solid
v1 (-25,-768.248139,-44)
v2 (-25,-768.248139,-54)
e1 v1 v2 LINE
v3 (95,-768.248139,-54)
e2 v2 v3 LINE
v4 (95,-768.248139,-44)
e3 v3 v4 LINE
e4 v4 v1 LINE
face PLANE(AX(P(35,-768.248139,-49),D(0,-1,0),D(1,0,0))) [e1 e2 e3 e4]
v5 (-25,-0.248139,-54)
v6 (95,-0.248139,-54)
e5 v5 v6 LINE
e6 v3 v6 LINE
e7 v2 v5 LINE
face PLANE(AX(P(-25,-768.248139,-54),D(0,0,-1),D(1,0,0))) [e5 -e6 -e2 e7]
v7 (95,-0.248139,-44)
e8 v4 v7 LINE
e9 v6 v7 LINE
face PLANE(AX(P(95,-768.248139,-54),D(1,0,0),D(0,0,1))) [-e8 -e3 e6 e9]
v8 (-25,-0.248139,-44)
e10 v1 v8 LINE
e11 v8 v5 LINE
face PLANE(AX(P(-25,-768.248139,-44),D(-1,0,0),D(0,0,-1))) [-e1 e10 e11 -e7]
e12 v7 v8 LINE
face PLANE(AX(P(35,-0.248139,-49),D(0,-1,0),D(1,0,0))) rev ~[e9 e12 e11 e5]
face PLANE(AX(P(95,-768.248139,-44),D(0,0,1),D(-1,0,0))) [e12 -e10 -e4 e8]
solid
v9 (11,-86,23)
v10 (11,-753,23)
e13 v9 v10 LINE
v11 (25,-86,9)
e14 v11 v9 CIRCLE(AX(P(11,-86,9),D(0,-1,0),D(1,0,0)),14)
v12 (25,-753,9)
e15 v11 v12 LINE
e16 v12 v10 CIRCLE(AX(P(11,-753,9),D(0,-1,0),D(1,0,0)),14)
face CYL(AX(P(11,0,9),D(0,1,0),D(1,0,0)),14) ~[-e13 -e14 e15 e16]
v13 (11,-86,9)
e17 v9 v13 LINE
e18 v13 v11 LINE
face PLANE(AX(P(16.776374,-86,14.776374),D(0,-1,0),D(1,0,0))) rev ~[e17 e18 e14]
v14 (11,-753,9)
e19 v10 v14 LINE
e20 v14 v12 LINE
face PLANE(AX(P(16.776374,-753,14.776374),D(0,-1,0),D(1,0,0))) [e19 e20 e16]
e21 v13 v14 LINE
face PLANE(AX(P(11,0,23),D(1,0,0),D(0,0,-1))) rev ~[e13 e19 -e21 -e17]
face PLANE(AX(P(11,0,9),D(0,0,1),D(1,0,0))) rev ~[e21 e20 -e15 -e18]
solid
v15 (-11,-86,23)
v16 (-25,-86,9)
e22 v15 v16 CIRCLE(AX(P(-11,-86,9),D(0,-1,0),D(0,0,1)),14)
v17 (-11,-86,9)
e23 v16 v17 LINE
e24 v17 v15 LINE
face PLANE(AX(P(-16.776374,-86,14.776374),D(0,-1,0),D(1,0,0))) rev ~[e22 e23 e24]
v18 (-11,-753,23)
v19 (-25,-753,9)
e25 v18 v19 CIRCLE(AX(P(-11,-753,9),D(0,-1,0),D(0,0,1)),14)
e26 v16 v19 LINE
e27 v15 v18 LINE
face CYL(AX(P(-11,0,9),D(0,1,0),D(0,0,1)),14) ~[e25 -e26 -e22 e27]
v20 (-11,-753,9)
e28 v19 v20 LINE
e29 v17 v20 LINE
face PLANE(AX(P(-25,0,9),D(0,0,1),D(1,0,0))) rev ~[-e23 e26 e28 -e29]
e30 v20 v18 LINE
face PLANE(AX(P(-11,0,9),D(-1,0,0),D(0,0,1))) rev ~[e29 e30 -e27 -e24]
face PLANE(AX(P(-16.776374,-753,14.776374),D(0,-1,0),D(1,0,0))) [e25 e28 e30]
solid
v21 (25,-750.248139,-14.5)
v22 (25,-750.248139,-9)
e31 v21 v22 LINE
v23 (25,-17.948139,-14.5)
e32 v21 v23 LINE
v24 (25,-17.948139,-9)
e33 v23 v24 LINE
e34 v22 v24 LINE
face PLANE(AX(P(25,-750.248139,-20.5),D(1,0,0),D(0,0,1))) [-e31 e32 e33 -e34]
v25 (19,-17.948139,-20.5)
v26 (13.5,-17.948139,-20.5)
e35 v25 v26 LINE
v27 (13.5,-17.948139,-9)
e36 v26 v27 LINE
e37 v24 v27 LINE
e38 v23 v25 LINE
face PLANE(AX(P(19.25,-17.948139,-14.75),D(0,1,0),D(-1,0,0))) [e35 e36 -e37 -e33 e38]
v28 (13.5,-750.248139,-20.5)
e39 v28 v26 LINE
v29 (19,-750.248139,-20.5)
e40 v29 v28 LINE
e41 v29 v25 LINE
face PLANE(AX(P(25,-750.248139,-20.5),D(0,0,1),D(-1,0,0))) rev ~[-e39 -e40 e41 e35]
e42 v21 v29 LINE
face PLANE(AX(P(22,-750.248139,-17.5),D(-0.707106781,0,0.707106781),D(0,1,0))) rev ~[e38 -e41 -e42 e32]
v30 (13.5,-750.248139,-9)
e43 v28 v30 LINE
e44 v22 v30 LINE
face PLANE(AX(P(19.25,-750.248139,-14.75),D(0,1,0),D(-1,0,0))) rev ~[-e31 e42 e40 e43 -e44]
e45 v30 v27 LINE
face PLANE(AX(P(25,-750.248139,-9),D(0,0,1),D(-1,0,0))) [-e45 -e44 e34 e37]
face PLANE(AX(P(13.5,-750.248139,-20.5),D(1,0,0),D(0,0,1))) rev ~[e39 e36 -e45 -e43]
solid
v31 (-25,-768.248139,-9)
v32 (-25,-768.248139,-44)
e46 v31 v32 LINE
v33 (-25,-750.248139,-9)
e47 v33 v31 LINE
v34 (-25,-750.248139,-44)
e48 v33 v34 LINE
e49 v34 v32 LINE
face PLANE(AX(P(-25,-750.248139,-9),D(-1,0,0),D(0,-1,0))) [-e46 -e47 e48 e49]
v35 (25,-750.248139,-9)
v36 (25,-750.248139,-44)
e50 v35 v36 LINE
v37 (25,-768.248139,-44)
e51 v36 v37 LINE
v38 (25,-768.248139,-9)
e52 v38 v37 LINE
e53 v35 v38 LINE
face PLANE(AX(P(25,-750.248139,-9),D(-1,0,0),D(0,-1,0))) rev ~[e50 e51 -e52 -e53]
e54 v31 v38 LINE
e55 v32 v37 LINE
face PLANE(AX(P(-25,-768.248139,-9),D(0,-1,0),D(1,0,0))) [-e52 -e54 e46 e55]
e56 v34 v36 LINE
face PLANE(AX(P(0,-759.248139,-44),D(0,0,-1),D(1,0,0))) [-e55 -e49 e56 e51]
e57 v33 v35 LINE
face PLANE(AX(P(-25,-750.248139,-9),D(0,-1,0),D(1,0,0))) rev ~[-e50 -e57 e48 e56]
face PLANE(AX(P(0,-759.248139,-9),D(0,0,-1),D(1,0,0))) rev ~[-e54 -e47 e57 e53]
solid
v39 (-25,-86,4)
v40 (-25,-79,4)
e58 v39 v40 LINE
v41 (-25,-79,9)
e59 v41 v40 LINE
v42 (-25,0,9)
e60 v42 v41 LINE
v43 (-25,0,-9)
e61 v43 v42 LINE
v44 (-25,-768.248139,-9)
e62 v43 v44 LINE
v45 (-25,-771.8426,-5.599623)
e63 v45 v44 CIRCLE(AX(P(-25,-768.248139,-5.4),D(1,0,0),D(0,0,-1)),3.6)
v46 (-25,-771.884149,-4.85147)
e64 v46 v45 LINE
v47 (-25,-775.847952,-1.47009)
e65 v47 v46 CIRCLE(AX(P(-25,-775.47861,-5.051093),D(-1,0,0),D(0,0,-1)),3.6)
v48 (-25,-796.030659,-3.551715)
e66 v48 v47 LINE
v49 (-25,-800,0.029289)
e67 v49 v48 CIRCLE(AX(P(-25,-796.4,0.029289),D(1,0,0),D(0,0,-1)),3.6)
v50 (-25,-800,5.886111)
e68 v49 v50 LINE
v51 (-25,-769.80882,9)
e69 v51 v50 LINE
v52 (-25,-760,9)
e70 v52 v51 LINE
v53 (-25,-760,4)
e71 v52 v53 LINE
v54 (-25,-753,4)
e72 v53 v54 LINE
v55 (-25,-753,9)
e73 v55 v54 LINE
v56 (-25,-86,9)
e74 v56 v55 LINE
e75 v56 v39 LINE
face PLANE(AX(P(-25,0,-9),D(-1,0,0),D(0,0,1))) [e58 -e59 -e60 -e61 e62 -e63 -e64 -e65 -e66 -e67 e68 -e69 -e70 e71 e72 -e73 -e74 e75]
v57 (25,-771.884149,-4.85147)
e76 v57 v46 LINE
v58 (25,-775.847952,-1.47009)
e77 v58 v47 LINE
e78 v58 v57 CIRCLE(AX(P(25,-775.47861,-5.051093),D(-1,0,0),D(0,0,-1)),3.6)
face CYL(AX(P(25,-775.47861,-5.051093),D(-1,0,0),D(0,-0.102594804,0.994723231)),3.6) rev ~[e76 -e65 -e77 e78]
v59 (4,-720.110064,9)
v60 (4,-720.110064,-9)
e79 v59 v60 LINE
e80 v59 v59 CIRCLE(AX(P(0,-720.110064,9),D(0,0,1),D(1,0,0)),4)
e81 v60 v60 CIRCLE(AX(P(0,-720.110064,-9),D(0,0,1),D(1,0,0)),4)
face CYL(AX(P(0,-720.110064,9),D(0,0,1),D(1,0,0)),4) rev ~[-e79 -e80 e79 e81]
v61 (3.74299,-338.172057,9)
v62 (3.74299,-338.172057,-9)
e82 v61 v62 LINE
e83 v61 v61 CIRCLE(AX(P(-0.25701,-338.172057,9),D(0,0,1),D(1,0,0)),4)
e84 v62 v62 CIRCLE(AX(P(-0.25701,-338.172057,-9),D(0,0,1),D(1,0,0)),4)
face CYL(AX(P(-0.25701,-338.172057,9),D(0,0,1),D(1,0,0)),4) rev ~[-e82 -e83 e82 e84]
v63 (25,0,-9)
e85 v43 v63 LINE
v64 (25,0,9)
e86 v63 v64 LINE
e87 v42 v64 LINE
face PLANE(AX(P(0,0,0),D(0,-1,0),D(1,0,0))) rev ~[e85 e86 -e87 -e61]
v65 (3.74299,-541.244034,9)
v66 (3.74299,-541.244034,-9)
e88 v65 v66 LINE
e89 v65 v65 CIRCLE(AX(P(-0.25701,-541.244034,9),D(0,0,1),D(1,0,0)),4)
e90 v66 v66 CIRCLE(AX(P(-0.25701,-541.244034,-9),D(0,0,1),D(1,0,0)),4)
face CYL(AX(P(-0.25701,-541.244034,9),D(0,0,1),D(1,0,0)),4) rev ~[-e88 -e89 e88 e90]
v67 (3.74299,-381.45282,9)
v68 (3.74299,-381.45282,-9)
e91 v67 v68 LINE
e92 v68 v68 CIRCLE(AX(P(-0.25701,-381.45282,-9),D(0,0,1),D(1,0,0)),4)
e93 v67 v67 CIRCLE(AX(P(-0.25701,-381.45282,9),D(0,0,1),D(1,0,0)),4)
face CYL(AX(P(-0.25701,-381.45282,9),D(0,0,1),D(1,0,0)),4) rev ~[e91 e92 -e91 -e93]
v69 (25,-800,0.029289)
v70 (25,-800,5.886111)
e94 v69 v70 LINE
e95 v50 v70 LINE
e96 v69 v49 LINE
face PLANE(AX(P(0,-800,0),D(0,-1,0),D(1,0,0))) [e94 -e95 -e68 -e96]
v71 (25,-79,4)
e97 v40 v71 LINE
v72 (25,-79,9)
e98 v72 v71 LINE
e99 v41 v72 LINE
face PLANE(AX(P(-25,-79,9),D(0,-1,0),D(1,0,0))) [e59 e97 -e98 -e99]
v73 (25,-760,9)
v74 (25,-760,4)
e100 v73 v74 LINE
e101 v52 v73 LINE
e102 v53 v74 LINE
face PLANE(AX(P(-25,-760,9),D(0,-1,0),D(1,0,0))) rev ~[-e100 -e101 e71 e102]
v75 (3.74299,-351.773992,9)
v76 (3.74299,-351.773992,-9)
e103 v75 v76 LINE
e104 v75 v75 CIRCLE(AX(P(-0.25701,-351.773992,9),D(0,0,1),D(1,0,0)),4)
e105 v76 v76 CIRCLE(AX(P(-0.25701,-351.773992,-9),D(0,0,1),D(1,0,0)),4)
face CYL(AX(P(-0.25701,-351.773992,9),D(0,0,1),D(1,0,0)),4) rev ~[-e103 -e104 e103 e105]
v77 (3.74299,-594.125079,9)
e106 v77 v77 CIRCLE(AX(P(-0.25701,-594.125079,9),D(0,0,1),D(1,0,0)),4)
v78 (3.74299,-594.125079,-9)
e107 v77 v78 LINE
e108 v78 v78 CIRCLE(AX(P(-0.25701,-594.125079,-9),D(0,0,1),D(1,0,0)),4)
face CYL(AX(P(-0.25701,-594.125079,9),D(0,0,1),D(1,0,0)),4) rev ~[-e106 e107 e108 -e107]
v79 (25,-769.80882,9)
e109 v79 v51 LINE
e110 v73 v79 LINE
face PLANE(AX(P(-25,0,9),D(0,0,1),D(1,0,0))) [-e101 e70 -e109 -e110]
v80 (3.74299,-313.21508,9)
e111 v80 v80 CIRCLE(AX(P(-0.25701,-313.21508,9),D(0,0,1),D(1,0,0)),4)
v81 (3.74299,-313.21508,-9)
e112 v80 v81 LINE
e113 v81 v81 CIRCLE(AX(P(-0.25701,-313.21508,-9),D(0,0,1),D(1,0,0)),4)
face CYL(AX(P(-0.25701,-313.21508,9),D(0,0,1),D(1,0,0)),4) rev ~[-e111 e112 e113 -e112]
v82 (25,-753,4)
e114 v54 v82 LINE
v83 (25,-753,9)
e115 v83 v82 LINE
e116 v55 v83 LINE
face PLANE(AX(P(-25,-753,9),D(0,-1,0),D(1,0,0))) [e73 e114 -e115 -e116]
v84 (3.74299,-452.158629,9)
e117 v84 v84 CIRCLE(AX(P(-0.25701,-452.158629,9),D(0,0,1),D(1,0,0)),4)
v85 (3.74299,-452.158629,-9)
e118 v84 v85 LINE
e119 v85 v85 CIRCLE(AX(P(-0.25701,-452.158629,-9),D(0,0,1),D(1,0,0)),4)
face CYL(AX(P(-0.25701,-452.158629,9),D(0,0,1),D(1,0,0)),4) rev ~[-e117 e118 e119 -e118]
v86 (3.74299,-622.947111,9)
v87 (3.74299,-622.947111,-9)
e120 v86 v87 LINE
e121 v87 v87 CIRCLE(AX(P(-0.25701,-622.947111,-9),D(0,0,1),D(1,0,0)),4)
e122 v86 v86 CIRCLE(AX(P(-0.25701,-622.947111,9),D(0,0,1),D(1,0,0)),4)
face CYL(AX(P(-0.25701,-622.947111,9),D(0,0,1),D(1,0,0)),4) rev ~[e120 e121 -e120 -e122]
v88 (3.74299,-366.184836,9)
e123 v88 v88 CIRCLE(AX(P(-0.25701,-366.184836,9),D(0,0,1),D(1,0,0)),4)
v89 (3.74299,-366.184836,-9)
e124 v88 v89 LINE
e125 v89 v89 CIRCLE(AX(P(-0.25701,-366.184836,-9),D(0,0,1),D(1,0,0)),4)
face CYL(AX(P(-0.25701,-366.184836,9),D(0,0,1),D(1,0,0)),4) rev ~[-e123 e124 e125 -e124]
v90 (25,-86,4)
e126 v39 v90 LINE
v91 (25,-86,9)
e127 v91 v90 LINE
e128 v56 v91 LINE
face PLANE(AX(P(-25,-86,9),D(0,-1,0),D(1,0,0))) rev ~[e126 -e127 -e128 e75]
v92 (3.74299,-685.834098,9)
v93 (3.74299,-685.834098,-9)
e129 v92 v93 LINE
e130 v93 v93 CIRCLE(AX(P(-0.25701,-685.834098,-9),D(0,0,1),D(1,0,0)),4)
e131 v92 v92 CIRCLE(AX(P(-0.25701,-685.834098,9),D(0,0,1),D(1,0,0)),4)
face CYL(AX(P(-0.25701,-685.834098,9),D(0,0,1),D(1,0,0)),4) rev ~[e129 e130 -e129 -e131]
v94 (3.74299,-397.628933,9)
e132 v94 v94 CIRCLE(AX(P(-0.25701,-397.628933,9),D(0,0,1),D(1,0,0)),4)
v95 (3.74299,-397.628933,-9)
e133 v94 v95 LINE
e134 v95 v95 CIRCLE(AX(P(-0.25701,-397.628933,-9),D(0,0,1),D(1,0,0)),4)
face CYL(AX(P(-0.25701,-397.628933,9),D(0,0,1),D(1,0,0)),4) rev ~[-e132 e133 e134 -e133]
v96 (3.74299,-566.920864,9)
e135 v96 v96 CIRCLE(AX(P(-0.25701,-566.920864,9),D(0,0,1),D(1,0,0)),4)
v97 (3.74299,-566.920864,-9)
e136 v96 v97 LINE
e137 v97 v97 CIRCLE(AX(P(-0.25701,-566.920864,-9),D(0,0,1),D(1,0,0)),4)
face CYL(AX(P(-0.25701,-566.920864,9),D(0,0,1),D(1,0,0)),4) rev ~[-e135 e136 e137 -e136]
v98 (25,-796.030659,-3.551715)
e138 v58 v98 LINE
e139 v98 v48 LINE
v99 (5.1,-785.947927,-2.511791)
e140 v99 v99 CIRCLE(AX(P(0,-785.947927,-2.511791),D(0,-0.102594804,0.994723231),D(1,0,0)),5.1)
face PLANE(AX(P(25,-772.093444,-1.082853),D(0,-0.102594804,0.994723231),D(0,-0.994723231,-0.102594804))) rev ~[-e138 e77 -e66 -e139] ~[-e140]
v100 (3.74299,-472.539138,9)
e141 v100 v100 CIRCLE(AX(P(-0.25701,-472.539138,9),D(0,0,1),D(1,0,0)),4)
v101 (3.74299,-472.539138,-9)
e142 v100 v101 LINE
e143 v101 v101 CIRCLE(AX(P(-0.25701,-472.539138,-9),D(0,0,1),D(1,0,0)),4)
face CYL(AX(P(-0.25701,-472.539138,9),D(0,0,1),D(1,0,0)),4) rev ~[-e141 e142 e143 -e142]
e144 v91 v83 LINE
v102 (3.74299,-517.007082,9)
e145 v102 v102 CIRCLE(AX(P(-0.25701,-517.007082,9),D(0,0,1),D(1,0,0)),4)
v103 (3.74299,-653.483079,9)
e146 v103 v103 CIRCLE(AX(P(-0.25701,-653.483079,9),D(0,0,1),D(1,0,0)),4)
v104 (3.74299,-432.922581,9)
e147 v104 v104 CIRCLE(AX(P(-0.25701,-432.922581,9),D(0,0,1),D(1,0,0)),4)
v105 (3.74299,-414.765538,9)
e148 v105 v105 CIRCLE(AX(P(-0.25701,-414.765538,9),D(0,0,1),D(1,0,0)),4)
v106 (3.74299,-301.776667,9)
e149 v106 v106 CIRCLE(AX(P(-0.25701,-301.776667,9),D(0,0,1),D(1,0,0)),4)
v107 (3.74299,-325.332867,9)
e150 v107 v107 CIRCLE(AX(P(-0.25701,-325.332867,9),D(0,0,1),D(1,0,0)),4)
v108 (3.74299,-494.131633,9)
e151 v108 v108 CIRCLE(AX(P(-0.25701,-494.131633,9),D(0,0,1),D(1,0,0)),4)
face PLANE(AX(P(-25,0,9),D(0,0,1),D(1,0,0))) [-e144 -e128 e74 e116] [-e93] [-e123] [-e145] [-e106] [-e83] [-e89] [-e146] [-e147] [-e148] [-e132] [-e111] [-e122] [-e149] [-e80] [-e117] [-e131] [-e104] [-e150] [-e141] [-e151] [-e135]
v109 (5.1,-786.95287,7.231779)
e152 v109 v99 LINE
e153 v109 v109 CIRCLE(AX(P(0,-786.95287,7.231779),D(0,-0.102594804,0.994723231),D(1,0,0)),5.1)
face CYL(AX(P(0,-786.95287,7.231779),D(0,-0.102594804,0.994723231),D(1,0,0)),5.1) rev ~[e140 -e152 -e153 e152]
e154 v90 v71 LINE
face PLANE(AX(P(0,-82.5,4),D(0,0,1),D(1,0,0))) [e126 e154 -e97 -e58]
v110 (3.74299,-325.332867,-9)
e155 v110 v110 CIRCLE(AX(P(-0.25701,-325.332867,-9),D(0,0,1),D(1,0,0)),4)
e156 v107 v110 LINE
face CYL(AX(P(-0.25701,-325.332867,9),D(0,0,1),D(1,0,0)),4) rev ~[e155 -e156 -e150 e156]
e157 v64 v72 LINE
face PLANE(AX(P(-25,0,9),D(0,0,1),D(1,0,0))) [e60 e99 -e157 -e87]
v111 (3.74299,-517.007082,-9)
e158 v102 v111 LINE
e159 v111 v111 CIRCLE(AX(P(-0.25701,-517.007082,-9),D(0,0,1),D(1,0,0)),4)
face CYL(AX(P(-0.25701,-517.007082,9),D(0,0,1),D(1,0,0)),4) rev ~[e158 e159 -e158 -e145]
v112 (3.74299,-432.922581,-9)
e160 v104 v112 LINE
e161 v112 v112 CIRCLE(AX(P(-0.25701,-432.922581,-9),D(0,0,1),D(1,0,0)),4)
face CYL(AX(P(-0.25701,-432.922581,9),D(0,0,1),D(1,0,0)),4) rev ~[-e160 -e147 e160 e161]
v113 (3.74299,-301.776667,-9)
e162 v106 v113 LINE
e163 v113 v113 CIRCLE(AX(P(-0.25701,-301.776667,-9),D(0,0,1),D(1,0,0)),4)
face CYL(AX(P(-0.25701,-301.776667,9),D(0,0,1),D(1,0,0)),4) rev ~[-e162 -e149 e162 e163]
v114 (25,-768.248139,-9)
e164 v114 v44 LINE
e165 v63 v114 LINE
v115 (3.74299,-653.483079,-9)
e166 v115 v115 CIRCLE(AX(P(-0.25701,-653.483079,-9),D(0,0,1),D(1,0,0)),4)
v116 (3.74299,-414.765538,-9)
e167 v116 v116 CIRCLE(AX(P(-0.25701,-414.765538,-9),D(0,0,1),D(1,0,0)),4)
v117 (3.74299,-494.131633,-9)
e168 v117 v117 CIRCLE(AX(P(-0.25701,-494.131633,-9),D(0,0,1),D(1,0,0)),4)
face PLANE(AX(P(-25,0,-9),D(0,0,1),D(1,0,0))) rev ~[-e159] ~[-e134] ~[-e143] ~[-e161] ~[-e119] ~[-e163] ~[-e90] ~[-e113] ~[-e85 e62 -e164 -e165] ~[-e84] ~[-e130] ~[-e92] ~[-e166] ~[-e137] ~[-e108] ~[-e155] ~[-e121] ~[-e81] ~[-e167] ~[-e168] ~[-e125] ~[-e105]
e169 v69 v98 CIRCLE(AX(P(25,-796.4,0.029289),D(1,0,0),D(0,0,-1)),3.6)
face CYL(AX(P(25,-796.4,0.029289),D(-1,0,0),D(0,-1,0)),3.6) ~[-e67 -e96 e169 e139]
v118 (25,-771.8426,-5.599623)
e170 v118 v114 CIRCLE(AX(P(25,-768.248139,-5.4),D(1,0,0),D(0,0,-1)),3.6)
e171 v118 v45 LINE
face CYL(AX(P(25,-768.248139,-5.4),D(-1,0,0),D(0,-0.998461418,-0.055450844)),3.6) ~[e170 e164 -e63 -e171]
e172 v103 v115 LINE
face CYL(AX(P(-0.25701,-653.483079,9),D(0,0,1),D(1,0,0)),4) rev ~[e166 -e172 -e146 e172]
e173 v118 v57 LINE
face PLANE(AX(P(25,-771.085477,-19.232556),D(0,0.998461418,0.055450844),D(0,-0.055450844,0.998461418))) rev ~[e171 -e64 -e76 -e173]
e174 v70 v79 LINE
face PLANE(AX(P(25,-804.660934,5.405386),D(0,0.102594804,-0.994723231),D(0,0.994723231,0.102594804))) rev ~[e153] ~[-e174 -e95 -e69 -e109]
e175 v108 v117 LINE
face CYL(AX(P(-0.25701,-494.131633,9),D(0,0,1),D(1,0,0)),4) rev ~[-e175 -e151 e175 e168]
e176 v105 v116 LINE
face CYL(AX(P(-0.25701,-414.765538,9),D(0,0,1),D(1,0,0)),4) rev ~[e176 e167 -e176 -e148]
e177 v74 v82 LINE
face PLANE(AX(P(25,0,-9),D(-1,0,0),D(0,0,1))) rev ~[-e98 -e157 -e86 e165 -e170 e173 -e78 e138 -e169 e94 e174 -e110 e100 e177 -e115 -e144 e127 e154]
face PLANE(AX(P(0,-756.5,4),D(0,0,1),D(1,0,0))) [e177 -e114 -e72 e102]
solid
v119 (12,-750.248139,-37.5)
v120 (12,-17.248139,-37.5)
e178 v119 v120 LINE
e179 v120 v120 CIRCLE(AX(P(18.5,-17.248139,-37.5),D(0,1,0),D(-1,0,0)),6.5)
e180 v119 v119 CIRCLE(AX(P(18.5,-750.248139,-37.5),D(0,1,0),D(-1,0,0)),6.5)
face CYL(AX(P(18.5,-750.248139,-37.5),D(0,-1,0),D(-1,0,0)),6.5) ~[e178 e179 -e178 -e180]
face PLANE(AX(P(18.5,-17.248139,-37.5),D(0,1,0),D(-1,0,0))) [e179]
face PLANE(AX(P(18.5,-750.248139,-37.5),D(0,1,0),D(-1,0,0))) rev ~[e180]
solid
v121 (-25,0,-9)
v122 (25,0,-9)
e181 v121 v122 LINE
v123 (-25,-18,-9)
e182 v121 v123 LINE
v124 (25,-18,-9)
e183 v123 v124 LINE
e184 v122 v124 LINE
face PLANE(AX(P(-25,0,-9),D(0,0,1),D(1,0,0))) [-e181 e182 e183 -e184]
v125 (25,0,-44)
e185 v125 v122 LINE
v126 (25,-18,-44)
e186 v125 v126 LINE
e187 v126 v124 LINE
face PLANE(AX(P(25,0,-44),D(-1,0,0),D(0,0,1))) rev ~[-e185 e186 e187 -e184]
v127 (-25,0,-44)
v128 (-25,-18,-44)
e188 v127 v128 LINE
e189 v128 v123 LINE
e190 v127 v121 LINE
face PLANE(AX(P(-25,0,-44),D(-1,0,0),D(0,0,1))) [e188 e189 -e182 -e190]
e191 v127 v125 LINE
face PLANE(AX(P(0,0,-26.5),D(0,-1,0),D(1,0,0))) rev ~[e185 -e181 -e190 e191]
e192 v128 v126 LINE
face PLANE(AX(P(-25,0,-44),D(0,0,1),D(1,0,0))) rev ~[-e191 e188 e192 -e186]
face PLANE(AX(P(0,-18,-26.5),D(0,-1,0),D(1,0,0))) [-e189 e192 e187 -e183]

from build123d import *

# Parameters (mm, degrees)
F0_W      = 50
F0_H      = 18
F1_DEPTH  = 800
F2_W      = 50
F2_H      = 7
F3_DEPTH  = 5
F6_DEPTH  = 50.001
F7_R      = 4
F7_R_2    = 5.1
F8_DEPTH  = 96.8844033339
F11_R     = 5
F11_R_2   = 4
F12_DEPTH = 25
F14_DEPTH = 753
F15_DEPTH = 86
F16_R     = 3.6
F17_W     = 50
F17_H     = 35
F18_DEPTH = 18
F19_W     = 50
F19_H     = 18
F20_DEPTH = 35
F21_R     = 6.5
F22_DEPTH = 733
F24_DEPTH = 768
F25_W     = 11.5
F25_H     = 11.5
F26_DEPTH = 732.3
F27_SIZE  = 6


with BuildPart() as f1:
    # F0 (on Front) → F1 (new body)
    with BuildSketch(Plane.XZ):
        Rectangle(F0_W, F0_H)
    extrude(amount=F1_DEPTH)

    # F2 (on face) → F3 (cut)
    with BuildSketch(Plane.XY.offset(9)):
        with Locations((0, -82.5)):
            Rectangle(F2_W, F2_H)
        with Locations((0, -756.5)):
            Rectangle(F2_W, F2_H)
    extrude(amount=-F3_DEPTH, mode=Mode.SUBTRACT)

    # F5 (on face) → F6 (cut, through all)
    with BuildSketch(Plane.YZ.offset(25)):
        Polygon((-771.0854771431, -19.232556054), (-772.093444324, -1.0828532979), (-809.1200472693, -4.9017417687), (-809.1200472693, -19.232556054), align=None)
        Polygon((-805.0609909826, 14.6067917183), (-804.660934381, 5.4053862448), (-715.4473347664, 14.6067917183), align=None)
    extrude(amount=-F6_DEPTH, mode=Mode.SUBTRACT)

    # F7 (on face) → F8 (cut, through all)
    with BuildSketch(Plane(origin=(0, -9.0212528766, 87.4669032326), x_dir=(1, 0, 0), z_dir=(0, -0.1025948042, 0.9947232309))):
        with Locations((0, -1003.4729398338)):
            Circle(F7_R)
        with Locations((0, -782.0583581924)):
            Circle(F7_R_2)
    extrude(amount=-F8_DEPTH, mode=Mode.SUBTRACT)

    # F11 (on face) → F12 (cut)
    with BuildSketch(Plane.XY.offset(9)):
        with Locations((0, 548.4895875181)):
            Circle(F11_R)
        with Locations((0, 720.4001545906)):
            Circle(F11_R)
        with Locations((0, -720.1100637757)):
            Circle(F11_R_2)
        with Locations((-0.2570097061, -685.8340977757)):
            Circle(F11_R_2)
        with Locations((-0.2570097061, -653.4830787757)):
            Circle(F11_R_2)
        with Locations((-0.2570097061, -622.9471107757)):
            Circle(F11_R_2)
        with Locations((-0.2570097061, -594.1250787757)):
            Circle(F11_R_2)
        with Locations((-0.2570097061, -566.9208637757)):
            Circle(F11_R_2)
        with Locations((-0.2570097061, -541.2440337757)):
            Circle(F11_R_2)
        with Locations((-0.2570097061, -517.0070817757)):
            Circle(F11_R_2)
        with Locations((-0.2570097061, -494.1316327757)):
            Circle(F11_R_2)
        with Locations((-0.2570097061, -472.5391377757)):
            Circle(F11_R_2)
        with Locations((-0.2570097061, -452.1586287757)):
            Circle(F11_R_2)
        with Locations((-0.2570097061, -432.9225807757)):
            Circle(F11_R_2)
        with Locations((-0.2570097061, -414.7655377757)):
            Circle(F11_R_2)
        with Locations((-0.2570097061, -397.6289327757)):
            Circle(F11_R_2)
        with Locations((-0.2570097061, -381.4528197757)):
            Circle(F11_R_2)
        with Locations((-0.2570097061, -366.1848357757)):
            Circle(F11_R_2)
        with Locations((-0.2570097061, -351.7739917757)):
            Circle(F11_R_2)
        with Locations((-0.2570097061, -338.1720567757)):
            Circle(F11_R_2)
        with Locations((-0.2570097061, -325.3328667757)):
            Circle(F11_R_2)
        with Locations((-0.2570097061, -313.2150797757)):
            Circle(F11_R_2)
        with Locations((-0.2570097061, -301.7766667757)):
            Circle(F11_R_2)
    extrude(amount=-F12_DEPTH, mode=Mode.SUBTRACT)

    # F16
    f16_edges = [f1.edges().sort_by_distance(p)[0] for p in [
        (0, -772.093444, -1.082853),
        (0, -771.653755, -9),
        (0, -800, -3.961109),
    ]]
    fillet(f16_edges, radius=F16_R)


with BuildPart() as f14:
    # F13 (on Front) → F14 (new body)
    with BuildSketch(Plane.XZ):
        with BuildLine():
            ThreePointArc((-11, 23), (-20.8994949366, 18.8994949366), (-25, 9))
            Line((-25, 9), (-11, 9))
            Line((-11, 9), (-11, 23))
        make_face()
    extrude(amount=F14_DEPTH)


with BuildPart() as f14b:
    # F13 (on Front) → F14, piece 2 (new body)
    with BuildSketch(Plane.XZ):
        with BuildLine():
            ThreePointArc((25, 9), (20.8994949366, 18.8994949366), (11, 23))
            Line((11, 23), (11, 9))
            Line((11, 9), (25, 9))
        make_face()
    extrude(amount=F14_DEPTH)


with BuildPart() as f15_tool:
    # F13 (on Front) → F15 (new body)
    with BuildSketch(Plane.XZ):
        with BuildLine():
            ThreePointArc((-11, 23), (-20.8994949366, 18.8994949366), (-25, 9))
            Line((-25, 9), (-11, 9))
            Line((-11, 9), (-11, 23))
        make_face()
        with BuildLine():
            ThreePointArc((25, 9), (20.8994949366, 18.8994949366), (11, 23))
            Line((11, 23), (11, 9))
            Line((11, 9), (25, 9))
        make_face()
    extrude(amount=F15_DEPTH)


with BuildPart() as f14_1:
    add(f14.part)

    # F15: cut by f15_tool
    add(f15_tool.part, mode=Mode.SUBTRACT)


with BuildPart() as f14b_1:
    add(f14b.part)

    # F15: cut by f15_tool
    add(f15_tool.part, mode=Mode.SUBTRACT)


with BuildPart() as f18:
    # F17 (on Front) → F18 (new body)
    with BuildSketch(Plane.XZ):
        with Locations((0, -26.5)):
            Rectangle(F17_W, F17_H)
    extrude(amount=F18_DEPTH)


with BuildPart() as f20:
    # F19 (on face) → F20 (new body)
    with BuildSketch(Plane(origin=(0, 0, -9), x_dir=(1, 0, 0), z_dir=(0, 0, -1))):
        with Locations((0, 759.2481385776)):
            Rectangle(F19_W, F19_H)
    extrude(amount=F20_DEPTH)


with BuildPart() as f22:
    # F21 (on face) → F22 (new body)
    with BuildSketch(Plane(origin=(0, -750.2481385776, 0), x_dir=(-1, 0, 0), z_dir=(0, 1, 0))):
        with Locations((-18.5, -37.5)):
            Circle(F21_R)
    extrude(amount=F22_DEPTH)


with BuildPart() as f24:
    # F23 (on face) → F24 (new body)
    with BuildSketch(Plane.XZ.offset(768.2481385776)):
        Polygon((25, -44), (-25, -44), (-25, -54), (95, -54), (95, -44), align=None)
    extrude(amount=-F24_DEPTH)


with BuildPart() as f26:
    # F25 (on face) → F26 (new body)
    with BuildSketch(Plane(origin=(0, -750.2481385776, 0), x_dir=(-1, 0, 0), z_dir=(0, 1, 0))):
        with Locations((-19.25, -14.75)):
            Rectangle(F25_W, F25_H)
    extrude(amount=F26_DEPTH)

    # F27
    f27_edges = [f26.edges().sort_by_distance(p)[0] for p in [
        (25, -384.098139, -20.5),
    ]]
    chamfer(f27_edges, length=F27_SIZE)


solid = Compound([f1.part, f14_1.part, f14b_1.part, f18.part, f20.part, f22.part, f24.part, f26.part])
